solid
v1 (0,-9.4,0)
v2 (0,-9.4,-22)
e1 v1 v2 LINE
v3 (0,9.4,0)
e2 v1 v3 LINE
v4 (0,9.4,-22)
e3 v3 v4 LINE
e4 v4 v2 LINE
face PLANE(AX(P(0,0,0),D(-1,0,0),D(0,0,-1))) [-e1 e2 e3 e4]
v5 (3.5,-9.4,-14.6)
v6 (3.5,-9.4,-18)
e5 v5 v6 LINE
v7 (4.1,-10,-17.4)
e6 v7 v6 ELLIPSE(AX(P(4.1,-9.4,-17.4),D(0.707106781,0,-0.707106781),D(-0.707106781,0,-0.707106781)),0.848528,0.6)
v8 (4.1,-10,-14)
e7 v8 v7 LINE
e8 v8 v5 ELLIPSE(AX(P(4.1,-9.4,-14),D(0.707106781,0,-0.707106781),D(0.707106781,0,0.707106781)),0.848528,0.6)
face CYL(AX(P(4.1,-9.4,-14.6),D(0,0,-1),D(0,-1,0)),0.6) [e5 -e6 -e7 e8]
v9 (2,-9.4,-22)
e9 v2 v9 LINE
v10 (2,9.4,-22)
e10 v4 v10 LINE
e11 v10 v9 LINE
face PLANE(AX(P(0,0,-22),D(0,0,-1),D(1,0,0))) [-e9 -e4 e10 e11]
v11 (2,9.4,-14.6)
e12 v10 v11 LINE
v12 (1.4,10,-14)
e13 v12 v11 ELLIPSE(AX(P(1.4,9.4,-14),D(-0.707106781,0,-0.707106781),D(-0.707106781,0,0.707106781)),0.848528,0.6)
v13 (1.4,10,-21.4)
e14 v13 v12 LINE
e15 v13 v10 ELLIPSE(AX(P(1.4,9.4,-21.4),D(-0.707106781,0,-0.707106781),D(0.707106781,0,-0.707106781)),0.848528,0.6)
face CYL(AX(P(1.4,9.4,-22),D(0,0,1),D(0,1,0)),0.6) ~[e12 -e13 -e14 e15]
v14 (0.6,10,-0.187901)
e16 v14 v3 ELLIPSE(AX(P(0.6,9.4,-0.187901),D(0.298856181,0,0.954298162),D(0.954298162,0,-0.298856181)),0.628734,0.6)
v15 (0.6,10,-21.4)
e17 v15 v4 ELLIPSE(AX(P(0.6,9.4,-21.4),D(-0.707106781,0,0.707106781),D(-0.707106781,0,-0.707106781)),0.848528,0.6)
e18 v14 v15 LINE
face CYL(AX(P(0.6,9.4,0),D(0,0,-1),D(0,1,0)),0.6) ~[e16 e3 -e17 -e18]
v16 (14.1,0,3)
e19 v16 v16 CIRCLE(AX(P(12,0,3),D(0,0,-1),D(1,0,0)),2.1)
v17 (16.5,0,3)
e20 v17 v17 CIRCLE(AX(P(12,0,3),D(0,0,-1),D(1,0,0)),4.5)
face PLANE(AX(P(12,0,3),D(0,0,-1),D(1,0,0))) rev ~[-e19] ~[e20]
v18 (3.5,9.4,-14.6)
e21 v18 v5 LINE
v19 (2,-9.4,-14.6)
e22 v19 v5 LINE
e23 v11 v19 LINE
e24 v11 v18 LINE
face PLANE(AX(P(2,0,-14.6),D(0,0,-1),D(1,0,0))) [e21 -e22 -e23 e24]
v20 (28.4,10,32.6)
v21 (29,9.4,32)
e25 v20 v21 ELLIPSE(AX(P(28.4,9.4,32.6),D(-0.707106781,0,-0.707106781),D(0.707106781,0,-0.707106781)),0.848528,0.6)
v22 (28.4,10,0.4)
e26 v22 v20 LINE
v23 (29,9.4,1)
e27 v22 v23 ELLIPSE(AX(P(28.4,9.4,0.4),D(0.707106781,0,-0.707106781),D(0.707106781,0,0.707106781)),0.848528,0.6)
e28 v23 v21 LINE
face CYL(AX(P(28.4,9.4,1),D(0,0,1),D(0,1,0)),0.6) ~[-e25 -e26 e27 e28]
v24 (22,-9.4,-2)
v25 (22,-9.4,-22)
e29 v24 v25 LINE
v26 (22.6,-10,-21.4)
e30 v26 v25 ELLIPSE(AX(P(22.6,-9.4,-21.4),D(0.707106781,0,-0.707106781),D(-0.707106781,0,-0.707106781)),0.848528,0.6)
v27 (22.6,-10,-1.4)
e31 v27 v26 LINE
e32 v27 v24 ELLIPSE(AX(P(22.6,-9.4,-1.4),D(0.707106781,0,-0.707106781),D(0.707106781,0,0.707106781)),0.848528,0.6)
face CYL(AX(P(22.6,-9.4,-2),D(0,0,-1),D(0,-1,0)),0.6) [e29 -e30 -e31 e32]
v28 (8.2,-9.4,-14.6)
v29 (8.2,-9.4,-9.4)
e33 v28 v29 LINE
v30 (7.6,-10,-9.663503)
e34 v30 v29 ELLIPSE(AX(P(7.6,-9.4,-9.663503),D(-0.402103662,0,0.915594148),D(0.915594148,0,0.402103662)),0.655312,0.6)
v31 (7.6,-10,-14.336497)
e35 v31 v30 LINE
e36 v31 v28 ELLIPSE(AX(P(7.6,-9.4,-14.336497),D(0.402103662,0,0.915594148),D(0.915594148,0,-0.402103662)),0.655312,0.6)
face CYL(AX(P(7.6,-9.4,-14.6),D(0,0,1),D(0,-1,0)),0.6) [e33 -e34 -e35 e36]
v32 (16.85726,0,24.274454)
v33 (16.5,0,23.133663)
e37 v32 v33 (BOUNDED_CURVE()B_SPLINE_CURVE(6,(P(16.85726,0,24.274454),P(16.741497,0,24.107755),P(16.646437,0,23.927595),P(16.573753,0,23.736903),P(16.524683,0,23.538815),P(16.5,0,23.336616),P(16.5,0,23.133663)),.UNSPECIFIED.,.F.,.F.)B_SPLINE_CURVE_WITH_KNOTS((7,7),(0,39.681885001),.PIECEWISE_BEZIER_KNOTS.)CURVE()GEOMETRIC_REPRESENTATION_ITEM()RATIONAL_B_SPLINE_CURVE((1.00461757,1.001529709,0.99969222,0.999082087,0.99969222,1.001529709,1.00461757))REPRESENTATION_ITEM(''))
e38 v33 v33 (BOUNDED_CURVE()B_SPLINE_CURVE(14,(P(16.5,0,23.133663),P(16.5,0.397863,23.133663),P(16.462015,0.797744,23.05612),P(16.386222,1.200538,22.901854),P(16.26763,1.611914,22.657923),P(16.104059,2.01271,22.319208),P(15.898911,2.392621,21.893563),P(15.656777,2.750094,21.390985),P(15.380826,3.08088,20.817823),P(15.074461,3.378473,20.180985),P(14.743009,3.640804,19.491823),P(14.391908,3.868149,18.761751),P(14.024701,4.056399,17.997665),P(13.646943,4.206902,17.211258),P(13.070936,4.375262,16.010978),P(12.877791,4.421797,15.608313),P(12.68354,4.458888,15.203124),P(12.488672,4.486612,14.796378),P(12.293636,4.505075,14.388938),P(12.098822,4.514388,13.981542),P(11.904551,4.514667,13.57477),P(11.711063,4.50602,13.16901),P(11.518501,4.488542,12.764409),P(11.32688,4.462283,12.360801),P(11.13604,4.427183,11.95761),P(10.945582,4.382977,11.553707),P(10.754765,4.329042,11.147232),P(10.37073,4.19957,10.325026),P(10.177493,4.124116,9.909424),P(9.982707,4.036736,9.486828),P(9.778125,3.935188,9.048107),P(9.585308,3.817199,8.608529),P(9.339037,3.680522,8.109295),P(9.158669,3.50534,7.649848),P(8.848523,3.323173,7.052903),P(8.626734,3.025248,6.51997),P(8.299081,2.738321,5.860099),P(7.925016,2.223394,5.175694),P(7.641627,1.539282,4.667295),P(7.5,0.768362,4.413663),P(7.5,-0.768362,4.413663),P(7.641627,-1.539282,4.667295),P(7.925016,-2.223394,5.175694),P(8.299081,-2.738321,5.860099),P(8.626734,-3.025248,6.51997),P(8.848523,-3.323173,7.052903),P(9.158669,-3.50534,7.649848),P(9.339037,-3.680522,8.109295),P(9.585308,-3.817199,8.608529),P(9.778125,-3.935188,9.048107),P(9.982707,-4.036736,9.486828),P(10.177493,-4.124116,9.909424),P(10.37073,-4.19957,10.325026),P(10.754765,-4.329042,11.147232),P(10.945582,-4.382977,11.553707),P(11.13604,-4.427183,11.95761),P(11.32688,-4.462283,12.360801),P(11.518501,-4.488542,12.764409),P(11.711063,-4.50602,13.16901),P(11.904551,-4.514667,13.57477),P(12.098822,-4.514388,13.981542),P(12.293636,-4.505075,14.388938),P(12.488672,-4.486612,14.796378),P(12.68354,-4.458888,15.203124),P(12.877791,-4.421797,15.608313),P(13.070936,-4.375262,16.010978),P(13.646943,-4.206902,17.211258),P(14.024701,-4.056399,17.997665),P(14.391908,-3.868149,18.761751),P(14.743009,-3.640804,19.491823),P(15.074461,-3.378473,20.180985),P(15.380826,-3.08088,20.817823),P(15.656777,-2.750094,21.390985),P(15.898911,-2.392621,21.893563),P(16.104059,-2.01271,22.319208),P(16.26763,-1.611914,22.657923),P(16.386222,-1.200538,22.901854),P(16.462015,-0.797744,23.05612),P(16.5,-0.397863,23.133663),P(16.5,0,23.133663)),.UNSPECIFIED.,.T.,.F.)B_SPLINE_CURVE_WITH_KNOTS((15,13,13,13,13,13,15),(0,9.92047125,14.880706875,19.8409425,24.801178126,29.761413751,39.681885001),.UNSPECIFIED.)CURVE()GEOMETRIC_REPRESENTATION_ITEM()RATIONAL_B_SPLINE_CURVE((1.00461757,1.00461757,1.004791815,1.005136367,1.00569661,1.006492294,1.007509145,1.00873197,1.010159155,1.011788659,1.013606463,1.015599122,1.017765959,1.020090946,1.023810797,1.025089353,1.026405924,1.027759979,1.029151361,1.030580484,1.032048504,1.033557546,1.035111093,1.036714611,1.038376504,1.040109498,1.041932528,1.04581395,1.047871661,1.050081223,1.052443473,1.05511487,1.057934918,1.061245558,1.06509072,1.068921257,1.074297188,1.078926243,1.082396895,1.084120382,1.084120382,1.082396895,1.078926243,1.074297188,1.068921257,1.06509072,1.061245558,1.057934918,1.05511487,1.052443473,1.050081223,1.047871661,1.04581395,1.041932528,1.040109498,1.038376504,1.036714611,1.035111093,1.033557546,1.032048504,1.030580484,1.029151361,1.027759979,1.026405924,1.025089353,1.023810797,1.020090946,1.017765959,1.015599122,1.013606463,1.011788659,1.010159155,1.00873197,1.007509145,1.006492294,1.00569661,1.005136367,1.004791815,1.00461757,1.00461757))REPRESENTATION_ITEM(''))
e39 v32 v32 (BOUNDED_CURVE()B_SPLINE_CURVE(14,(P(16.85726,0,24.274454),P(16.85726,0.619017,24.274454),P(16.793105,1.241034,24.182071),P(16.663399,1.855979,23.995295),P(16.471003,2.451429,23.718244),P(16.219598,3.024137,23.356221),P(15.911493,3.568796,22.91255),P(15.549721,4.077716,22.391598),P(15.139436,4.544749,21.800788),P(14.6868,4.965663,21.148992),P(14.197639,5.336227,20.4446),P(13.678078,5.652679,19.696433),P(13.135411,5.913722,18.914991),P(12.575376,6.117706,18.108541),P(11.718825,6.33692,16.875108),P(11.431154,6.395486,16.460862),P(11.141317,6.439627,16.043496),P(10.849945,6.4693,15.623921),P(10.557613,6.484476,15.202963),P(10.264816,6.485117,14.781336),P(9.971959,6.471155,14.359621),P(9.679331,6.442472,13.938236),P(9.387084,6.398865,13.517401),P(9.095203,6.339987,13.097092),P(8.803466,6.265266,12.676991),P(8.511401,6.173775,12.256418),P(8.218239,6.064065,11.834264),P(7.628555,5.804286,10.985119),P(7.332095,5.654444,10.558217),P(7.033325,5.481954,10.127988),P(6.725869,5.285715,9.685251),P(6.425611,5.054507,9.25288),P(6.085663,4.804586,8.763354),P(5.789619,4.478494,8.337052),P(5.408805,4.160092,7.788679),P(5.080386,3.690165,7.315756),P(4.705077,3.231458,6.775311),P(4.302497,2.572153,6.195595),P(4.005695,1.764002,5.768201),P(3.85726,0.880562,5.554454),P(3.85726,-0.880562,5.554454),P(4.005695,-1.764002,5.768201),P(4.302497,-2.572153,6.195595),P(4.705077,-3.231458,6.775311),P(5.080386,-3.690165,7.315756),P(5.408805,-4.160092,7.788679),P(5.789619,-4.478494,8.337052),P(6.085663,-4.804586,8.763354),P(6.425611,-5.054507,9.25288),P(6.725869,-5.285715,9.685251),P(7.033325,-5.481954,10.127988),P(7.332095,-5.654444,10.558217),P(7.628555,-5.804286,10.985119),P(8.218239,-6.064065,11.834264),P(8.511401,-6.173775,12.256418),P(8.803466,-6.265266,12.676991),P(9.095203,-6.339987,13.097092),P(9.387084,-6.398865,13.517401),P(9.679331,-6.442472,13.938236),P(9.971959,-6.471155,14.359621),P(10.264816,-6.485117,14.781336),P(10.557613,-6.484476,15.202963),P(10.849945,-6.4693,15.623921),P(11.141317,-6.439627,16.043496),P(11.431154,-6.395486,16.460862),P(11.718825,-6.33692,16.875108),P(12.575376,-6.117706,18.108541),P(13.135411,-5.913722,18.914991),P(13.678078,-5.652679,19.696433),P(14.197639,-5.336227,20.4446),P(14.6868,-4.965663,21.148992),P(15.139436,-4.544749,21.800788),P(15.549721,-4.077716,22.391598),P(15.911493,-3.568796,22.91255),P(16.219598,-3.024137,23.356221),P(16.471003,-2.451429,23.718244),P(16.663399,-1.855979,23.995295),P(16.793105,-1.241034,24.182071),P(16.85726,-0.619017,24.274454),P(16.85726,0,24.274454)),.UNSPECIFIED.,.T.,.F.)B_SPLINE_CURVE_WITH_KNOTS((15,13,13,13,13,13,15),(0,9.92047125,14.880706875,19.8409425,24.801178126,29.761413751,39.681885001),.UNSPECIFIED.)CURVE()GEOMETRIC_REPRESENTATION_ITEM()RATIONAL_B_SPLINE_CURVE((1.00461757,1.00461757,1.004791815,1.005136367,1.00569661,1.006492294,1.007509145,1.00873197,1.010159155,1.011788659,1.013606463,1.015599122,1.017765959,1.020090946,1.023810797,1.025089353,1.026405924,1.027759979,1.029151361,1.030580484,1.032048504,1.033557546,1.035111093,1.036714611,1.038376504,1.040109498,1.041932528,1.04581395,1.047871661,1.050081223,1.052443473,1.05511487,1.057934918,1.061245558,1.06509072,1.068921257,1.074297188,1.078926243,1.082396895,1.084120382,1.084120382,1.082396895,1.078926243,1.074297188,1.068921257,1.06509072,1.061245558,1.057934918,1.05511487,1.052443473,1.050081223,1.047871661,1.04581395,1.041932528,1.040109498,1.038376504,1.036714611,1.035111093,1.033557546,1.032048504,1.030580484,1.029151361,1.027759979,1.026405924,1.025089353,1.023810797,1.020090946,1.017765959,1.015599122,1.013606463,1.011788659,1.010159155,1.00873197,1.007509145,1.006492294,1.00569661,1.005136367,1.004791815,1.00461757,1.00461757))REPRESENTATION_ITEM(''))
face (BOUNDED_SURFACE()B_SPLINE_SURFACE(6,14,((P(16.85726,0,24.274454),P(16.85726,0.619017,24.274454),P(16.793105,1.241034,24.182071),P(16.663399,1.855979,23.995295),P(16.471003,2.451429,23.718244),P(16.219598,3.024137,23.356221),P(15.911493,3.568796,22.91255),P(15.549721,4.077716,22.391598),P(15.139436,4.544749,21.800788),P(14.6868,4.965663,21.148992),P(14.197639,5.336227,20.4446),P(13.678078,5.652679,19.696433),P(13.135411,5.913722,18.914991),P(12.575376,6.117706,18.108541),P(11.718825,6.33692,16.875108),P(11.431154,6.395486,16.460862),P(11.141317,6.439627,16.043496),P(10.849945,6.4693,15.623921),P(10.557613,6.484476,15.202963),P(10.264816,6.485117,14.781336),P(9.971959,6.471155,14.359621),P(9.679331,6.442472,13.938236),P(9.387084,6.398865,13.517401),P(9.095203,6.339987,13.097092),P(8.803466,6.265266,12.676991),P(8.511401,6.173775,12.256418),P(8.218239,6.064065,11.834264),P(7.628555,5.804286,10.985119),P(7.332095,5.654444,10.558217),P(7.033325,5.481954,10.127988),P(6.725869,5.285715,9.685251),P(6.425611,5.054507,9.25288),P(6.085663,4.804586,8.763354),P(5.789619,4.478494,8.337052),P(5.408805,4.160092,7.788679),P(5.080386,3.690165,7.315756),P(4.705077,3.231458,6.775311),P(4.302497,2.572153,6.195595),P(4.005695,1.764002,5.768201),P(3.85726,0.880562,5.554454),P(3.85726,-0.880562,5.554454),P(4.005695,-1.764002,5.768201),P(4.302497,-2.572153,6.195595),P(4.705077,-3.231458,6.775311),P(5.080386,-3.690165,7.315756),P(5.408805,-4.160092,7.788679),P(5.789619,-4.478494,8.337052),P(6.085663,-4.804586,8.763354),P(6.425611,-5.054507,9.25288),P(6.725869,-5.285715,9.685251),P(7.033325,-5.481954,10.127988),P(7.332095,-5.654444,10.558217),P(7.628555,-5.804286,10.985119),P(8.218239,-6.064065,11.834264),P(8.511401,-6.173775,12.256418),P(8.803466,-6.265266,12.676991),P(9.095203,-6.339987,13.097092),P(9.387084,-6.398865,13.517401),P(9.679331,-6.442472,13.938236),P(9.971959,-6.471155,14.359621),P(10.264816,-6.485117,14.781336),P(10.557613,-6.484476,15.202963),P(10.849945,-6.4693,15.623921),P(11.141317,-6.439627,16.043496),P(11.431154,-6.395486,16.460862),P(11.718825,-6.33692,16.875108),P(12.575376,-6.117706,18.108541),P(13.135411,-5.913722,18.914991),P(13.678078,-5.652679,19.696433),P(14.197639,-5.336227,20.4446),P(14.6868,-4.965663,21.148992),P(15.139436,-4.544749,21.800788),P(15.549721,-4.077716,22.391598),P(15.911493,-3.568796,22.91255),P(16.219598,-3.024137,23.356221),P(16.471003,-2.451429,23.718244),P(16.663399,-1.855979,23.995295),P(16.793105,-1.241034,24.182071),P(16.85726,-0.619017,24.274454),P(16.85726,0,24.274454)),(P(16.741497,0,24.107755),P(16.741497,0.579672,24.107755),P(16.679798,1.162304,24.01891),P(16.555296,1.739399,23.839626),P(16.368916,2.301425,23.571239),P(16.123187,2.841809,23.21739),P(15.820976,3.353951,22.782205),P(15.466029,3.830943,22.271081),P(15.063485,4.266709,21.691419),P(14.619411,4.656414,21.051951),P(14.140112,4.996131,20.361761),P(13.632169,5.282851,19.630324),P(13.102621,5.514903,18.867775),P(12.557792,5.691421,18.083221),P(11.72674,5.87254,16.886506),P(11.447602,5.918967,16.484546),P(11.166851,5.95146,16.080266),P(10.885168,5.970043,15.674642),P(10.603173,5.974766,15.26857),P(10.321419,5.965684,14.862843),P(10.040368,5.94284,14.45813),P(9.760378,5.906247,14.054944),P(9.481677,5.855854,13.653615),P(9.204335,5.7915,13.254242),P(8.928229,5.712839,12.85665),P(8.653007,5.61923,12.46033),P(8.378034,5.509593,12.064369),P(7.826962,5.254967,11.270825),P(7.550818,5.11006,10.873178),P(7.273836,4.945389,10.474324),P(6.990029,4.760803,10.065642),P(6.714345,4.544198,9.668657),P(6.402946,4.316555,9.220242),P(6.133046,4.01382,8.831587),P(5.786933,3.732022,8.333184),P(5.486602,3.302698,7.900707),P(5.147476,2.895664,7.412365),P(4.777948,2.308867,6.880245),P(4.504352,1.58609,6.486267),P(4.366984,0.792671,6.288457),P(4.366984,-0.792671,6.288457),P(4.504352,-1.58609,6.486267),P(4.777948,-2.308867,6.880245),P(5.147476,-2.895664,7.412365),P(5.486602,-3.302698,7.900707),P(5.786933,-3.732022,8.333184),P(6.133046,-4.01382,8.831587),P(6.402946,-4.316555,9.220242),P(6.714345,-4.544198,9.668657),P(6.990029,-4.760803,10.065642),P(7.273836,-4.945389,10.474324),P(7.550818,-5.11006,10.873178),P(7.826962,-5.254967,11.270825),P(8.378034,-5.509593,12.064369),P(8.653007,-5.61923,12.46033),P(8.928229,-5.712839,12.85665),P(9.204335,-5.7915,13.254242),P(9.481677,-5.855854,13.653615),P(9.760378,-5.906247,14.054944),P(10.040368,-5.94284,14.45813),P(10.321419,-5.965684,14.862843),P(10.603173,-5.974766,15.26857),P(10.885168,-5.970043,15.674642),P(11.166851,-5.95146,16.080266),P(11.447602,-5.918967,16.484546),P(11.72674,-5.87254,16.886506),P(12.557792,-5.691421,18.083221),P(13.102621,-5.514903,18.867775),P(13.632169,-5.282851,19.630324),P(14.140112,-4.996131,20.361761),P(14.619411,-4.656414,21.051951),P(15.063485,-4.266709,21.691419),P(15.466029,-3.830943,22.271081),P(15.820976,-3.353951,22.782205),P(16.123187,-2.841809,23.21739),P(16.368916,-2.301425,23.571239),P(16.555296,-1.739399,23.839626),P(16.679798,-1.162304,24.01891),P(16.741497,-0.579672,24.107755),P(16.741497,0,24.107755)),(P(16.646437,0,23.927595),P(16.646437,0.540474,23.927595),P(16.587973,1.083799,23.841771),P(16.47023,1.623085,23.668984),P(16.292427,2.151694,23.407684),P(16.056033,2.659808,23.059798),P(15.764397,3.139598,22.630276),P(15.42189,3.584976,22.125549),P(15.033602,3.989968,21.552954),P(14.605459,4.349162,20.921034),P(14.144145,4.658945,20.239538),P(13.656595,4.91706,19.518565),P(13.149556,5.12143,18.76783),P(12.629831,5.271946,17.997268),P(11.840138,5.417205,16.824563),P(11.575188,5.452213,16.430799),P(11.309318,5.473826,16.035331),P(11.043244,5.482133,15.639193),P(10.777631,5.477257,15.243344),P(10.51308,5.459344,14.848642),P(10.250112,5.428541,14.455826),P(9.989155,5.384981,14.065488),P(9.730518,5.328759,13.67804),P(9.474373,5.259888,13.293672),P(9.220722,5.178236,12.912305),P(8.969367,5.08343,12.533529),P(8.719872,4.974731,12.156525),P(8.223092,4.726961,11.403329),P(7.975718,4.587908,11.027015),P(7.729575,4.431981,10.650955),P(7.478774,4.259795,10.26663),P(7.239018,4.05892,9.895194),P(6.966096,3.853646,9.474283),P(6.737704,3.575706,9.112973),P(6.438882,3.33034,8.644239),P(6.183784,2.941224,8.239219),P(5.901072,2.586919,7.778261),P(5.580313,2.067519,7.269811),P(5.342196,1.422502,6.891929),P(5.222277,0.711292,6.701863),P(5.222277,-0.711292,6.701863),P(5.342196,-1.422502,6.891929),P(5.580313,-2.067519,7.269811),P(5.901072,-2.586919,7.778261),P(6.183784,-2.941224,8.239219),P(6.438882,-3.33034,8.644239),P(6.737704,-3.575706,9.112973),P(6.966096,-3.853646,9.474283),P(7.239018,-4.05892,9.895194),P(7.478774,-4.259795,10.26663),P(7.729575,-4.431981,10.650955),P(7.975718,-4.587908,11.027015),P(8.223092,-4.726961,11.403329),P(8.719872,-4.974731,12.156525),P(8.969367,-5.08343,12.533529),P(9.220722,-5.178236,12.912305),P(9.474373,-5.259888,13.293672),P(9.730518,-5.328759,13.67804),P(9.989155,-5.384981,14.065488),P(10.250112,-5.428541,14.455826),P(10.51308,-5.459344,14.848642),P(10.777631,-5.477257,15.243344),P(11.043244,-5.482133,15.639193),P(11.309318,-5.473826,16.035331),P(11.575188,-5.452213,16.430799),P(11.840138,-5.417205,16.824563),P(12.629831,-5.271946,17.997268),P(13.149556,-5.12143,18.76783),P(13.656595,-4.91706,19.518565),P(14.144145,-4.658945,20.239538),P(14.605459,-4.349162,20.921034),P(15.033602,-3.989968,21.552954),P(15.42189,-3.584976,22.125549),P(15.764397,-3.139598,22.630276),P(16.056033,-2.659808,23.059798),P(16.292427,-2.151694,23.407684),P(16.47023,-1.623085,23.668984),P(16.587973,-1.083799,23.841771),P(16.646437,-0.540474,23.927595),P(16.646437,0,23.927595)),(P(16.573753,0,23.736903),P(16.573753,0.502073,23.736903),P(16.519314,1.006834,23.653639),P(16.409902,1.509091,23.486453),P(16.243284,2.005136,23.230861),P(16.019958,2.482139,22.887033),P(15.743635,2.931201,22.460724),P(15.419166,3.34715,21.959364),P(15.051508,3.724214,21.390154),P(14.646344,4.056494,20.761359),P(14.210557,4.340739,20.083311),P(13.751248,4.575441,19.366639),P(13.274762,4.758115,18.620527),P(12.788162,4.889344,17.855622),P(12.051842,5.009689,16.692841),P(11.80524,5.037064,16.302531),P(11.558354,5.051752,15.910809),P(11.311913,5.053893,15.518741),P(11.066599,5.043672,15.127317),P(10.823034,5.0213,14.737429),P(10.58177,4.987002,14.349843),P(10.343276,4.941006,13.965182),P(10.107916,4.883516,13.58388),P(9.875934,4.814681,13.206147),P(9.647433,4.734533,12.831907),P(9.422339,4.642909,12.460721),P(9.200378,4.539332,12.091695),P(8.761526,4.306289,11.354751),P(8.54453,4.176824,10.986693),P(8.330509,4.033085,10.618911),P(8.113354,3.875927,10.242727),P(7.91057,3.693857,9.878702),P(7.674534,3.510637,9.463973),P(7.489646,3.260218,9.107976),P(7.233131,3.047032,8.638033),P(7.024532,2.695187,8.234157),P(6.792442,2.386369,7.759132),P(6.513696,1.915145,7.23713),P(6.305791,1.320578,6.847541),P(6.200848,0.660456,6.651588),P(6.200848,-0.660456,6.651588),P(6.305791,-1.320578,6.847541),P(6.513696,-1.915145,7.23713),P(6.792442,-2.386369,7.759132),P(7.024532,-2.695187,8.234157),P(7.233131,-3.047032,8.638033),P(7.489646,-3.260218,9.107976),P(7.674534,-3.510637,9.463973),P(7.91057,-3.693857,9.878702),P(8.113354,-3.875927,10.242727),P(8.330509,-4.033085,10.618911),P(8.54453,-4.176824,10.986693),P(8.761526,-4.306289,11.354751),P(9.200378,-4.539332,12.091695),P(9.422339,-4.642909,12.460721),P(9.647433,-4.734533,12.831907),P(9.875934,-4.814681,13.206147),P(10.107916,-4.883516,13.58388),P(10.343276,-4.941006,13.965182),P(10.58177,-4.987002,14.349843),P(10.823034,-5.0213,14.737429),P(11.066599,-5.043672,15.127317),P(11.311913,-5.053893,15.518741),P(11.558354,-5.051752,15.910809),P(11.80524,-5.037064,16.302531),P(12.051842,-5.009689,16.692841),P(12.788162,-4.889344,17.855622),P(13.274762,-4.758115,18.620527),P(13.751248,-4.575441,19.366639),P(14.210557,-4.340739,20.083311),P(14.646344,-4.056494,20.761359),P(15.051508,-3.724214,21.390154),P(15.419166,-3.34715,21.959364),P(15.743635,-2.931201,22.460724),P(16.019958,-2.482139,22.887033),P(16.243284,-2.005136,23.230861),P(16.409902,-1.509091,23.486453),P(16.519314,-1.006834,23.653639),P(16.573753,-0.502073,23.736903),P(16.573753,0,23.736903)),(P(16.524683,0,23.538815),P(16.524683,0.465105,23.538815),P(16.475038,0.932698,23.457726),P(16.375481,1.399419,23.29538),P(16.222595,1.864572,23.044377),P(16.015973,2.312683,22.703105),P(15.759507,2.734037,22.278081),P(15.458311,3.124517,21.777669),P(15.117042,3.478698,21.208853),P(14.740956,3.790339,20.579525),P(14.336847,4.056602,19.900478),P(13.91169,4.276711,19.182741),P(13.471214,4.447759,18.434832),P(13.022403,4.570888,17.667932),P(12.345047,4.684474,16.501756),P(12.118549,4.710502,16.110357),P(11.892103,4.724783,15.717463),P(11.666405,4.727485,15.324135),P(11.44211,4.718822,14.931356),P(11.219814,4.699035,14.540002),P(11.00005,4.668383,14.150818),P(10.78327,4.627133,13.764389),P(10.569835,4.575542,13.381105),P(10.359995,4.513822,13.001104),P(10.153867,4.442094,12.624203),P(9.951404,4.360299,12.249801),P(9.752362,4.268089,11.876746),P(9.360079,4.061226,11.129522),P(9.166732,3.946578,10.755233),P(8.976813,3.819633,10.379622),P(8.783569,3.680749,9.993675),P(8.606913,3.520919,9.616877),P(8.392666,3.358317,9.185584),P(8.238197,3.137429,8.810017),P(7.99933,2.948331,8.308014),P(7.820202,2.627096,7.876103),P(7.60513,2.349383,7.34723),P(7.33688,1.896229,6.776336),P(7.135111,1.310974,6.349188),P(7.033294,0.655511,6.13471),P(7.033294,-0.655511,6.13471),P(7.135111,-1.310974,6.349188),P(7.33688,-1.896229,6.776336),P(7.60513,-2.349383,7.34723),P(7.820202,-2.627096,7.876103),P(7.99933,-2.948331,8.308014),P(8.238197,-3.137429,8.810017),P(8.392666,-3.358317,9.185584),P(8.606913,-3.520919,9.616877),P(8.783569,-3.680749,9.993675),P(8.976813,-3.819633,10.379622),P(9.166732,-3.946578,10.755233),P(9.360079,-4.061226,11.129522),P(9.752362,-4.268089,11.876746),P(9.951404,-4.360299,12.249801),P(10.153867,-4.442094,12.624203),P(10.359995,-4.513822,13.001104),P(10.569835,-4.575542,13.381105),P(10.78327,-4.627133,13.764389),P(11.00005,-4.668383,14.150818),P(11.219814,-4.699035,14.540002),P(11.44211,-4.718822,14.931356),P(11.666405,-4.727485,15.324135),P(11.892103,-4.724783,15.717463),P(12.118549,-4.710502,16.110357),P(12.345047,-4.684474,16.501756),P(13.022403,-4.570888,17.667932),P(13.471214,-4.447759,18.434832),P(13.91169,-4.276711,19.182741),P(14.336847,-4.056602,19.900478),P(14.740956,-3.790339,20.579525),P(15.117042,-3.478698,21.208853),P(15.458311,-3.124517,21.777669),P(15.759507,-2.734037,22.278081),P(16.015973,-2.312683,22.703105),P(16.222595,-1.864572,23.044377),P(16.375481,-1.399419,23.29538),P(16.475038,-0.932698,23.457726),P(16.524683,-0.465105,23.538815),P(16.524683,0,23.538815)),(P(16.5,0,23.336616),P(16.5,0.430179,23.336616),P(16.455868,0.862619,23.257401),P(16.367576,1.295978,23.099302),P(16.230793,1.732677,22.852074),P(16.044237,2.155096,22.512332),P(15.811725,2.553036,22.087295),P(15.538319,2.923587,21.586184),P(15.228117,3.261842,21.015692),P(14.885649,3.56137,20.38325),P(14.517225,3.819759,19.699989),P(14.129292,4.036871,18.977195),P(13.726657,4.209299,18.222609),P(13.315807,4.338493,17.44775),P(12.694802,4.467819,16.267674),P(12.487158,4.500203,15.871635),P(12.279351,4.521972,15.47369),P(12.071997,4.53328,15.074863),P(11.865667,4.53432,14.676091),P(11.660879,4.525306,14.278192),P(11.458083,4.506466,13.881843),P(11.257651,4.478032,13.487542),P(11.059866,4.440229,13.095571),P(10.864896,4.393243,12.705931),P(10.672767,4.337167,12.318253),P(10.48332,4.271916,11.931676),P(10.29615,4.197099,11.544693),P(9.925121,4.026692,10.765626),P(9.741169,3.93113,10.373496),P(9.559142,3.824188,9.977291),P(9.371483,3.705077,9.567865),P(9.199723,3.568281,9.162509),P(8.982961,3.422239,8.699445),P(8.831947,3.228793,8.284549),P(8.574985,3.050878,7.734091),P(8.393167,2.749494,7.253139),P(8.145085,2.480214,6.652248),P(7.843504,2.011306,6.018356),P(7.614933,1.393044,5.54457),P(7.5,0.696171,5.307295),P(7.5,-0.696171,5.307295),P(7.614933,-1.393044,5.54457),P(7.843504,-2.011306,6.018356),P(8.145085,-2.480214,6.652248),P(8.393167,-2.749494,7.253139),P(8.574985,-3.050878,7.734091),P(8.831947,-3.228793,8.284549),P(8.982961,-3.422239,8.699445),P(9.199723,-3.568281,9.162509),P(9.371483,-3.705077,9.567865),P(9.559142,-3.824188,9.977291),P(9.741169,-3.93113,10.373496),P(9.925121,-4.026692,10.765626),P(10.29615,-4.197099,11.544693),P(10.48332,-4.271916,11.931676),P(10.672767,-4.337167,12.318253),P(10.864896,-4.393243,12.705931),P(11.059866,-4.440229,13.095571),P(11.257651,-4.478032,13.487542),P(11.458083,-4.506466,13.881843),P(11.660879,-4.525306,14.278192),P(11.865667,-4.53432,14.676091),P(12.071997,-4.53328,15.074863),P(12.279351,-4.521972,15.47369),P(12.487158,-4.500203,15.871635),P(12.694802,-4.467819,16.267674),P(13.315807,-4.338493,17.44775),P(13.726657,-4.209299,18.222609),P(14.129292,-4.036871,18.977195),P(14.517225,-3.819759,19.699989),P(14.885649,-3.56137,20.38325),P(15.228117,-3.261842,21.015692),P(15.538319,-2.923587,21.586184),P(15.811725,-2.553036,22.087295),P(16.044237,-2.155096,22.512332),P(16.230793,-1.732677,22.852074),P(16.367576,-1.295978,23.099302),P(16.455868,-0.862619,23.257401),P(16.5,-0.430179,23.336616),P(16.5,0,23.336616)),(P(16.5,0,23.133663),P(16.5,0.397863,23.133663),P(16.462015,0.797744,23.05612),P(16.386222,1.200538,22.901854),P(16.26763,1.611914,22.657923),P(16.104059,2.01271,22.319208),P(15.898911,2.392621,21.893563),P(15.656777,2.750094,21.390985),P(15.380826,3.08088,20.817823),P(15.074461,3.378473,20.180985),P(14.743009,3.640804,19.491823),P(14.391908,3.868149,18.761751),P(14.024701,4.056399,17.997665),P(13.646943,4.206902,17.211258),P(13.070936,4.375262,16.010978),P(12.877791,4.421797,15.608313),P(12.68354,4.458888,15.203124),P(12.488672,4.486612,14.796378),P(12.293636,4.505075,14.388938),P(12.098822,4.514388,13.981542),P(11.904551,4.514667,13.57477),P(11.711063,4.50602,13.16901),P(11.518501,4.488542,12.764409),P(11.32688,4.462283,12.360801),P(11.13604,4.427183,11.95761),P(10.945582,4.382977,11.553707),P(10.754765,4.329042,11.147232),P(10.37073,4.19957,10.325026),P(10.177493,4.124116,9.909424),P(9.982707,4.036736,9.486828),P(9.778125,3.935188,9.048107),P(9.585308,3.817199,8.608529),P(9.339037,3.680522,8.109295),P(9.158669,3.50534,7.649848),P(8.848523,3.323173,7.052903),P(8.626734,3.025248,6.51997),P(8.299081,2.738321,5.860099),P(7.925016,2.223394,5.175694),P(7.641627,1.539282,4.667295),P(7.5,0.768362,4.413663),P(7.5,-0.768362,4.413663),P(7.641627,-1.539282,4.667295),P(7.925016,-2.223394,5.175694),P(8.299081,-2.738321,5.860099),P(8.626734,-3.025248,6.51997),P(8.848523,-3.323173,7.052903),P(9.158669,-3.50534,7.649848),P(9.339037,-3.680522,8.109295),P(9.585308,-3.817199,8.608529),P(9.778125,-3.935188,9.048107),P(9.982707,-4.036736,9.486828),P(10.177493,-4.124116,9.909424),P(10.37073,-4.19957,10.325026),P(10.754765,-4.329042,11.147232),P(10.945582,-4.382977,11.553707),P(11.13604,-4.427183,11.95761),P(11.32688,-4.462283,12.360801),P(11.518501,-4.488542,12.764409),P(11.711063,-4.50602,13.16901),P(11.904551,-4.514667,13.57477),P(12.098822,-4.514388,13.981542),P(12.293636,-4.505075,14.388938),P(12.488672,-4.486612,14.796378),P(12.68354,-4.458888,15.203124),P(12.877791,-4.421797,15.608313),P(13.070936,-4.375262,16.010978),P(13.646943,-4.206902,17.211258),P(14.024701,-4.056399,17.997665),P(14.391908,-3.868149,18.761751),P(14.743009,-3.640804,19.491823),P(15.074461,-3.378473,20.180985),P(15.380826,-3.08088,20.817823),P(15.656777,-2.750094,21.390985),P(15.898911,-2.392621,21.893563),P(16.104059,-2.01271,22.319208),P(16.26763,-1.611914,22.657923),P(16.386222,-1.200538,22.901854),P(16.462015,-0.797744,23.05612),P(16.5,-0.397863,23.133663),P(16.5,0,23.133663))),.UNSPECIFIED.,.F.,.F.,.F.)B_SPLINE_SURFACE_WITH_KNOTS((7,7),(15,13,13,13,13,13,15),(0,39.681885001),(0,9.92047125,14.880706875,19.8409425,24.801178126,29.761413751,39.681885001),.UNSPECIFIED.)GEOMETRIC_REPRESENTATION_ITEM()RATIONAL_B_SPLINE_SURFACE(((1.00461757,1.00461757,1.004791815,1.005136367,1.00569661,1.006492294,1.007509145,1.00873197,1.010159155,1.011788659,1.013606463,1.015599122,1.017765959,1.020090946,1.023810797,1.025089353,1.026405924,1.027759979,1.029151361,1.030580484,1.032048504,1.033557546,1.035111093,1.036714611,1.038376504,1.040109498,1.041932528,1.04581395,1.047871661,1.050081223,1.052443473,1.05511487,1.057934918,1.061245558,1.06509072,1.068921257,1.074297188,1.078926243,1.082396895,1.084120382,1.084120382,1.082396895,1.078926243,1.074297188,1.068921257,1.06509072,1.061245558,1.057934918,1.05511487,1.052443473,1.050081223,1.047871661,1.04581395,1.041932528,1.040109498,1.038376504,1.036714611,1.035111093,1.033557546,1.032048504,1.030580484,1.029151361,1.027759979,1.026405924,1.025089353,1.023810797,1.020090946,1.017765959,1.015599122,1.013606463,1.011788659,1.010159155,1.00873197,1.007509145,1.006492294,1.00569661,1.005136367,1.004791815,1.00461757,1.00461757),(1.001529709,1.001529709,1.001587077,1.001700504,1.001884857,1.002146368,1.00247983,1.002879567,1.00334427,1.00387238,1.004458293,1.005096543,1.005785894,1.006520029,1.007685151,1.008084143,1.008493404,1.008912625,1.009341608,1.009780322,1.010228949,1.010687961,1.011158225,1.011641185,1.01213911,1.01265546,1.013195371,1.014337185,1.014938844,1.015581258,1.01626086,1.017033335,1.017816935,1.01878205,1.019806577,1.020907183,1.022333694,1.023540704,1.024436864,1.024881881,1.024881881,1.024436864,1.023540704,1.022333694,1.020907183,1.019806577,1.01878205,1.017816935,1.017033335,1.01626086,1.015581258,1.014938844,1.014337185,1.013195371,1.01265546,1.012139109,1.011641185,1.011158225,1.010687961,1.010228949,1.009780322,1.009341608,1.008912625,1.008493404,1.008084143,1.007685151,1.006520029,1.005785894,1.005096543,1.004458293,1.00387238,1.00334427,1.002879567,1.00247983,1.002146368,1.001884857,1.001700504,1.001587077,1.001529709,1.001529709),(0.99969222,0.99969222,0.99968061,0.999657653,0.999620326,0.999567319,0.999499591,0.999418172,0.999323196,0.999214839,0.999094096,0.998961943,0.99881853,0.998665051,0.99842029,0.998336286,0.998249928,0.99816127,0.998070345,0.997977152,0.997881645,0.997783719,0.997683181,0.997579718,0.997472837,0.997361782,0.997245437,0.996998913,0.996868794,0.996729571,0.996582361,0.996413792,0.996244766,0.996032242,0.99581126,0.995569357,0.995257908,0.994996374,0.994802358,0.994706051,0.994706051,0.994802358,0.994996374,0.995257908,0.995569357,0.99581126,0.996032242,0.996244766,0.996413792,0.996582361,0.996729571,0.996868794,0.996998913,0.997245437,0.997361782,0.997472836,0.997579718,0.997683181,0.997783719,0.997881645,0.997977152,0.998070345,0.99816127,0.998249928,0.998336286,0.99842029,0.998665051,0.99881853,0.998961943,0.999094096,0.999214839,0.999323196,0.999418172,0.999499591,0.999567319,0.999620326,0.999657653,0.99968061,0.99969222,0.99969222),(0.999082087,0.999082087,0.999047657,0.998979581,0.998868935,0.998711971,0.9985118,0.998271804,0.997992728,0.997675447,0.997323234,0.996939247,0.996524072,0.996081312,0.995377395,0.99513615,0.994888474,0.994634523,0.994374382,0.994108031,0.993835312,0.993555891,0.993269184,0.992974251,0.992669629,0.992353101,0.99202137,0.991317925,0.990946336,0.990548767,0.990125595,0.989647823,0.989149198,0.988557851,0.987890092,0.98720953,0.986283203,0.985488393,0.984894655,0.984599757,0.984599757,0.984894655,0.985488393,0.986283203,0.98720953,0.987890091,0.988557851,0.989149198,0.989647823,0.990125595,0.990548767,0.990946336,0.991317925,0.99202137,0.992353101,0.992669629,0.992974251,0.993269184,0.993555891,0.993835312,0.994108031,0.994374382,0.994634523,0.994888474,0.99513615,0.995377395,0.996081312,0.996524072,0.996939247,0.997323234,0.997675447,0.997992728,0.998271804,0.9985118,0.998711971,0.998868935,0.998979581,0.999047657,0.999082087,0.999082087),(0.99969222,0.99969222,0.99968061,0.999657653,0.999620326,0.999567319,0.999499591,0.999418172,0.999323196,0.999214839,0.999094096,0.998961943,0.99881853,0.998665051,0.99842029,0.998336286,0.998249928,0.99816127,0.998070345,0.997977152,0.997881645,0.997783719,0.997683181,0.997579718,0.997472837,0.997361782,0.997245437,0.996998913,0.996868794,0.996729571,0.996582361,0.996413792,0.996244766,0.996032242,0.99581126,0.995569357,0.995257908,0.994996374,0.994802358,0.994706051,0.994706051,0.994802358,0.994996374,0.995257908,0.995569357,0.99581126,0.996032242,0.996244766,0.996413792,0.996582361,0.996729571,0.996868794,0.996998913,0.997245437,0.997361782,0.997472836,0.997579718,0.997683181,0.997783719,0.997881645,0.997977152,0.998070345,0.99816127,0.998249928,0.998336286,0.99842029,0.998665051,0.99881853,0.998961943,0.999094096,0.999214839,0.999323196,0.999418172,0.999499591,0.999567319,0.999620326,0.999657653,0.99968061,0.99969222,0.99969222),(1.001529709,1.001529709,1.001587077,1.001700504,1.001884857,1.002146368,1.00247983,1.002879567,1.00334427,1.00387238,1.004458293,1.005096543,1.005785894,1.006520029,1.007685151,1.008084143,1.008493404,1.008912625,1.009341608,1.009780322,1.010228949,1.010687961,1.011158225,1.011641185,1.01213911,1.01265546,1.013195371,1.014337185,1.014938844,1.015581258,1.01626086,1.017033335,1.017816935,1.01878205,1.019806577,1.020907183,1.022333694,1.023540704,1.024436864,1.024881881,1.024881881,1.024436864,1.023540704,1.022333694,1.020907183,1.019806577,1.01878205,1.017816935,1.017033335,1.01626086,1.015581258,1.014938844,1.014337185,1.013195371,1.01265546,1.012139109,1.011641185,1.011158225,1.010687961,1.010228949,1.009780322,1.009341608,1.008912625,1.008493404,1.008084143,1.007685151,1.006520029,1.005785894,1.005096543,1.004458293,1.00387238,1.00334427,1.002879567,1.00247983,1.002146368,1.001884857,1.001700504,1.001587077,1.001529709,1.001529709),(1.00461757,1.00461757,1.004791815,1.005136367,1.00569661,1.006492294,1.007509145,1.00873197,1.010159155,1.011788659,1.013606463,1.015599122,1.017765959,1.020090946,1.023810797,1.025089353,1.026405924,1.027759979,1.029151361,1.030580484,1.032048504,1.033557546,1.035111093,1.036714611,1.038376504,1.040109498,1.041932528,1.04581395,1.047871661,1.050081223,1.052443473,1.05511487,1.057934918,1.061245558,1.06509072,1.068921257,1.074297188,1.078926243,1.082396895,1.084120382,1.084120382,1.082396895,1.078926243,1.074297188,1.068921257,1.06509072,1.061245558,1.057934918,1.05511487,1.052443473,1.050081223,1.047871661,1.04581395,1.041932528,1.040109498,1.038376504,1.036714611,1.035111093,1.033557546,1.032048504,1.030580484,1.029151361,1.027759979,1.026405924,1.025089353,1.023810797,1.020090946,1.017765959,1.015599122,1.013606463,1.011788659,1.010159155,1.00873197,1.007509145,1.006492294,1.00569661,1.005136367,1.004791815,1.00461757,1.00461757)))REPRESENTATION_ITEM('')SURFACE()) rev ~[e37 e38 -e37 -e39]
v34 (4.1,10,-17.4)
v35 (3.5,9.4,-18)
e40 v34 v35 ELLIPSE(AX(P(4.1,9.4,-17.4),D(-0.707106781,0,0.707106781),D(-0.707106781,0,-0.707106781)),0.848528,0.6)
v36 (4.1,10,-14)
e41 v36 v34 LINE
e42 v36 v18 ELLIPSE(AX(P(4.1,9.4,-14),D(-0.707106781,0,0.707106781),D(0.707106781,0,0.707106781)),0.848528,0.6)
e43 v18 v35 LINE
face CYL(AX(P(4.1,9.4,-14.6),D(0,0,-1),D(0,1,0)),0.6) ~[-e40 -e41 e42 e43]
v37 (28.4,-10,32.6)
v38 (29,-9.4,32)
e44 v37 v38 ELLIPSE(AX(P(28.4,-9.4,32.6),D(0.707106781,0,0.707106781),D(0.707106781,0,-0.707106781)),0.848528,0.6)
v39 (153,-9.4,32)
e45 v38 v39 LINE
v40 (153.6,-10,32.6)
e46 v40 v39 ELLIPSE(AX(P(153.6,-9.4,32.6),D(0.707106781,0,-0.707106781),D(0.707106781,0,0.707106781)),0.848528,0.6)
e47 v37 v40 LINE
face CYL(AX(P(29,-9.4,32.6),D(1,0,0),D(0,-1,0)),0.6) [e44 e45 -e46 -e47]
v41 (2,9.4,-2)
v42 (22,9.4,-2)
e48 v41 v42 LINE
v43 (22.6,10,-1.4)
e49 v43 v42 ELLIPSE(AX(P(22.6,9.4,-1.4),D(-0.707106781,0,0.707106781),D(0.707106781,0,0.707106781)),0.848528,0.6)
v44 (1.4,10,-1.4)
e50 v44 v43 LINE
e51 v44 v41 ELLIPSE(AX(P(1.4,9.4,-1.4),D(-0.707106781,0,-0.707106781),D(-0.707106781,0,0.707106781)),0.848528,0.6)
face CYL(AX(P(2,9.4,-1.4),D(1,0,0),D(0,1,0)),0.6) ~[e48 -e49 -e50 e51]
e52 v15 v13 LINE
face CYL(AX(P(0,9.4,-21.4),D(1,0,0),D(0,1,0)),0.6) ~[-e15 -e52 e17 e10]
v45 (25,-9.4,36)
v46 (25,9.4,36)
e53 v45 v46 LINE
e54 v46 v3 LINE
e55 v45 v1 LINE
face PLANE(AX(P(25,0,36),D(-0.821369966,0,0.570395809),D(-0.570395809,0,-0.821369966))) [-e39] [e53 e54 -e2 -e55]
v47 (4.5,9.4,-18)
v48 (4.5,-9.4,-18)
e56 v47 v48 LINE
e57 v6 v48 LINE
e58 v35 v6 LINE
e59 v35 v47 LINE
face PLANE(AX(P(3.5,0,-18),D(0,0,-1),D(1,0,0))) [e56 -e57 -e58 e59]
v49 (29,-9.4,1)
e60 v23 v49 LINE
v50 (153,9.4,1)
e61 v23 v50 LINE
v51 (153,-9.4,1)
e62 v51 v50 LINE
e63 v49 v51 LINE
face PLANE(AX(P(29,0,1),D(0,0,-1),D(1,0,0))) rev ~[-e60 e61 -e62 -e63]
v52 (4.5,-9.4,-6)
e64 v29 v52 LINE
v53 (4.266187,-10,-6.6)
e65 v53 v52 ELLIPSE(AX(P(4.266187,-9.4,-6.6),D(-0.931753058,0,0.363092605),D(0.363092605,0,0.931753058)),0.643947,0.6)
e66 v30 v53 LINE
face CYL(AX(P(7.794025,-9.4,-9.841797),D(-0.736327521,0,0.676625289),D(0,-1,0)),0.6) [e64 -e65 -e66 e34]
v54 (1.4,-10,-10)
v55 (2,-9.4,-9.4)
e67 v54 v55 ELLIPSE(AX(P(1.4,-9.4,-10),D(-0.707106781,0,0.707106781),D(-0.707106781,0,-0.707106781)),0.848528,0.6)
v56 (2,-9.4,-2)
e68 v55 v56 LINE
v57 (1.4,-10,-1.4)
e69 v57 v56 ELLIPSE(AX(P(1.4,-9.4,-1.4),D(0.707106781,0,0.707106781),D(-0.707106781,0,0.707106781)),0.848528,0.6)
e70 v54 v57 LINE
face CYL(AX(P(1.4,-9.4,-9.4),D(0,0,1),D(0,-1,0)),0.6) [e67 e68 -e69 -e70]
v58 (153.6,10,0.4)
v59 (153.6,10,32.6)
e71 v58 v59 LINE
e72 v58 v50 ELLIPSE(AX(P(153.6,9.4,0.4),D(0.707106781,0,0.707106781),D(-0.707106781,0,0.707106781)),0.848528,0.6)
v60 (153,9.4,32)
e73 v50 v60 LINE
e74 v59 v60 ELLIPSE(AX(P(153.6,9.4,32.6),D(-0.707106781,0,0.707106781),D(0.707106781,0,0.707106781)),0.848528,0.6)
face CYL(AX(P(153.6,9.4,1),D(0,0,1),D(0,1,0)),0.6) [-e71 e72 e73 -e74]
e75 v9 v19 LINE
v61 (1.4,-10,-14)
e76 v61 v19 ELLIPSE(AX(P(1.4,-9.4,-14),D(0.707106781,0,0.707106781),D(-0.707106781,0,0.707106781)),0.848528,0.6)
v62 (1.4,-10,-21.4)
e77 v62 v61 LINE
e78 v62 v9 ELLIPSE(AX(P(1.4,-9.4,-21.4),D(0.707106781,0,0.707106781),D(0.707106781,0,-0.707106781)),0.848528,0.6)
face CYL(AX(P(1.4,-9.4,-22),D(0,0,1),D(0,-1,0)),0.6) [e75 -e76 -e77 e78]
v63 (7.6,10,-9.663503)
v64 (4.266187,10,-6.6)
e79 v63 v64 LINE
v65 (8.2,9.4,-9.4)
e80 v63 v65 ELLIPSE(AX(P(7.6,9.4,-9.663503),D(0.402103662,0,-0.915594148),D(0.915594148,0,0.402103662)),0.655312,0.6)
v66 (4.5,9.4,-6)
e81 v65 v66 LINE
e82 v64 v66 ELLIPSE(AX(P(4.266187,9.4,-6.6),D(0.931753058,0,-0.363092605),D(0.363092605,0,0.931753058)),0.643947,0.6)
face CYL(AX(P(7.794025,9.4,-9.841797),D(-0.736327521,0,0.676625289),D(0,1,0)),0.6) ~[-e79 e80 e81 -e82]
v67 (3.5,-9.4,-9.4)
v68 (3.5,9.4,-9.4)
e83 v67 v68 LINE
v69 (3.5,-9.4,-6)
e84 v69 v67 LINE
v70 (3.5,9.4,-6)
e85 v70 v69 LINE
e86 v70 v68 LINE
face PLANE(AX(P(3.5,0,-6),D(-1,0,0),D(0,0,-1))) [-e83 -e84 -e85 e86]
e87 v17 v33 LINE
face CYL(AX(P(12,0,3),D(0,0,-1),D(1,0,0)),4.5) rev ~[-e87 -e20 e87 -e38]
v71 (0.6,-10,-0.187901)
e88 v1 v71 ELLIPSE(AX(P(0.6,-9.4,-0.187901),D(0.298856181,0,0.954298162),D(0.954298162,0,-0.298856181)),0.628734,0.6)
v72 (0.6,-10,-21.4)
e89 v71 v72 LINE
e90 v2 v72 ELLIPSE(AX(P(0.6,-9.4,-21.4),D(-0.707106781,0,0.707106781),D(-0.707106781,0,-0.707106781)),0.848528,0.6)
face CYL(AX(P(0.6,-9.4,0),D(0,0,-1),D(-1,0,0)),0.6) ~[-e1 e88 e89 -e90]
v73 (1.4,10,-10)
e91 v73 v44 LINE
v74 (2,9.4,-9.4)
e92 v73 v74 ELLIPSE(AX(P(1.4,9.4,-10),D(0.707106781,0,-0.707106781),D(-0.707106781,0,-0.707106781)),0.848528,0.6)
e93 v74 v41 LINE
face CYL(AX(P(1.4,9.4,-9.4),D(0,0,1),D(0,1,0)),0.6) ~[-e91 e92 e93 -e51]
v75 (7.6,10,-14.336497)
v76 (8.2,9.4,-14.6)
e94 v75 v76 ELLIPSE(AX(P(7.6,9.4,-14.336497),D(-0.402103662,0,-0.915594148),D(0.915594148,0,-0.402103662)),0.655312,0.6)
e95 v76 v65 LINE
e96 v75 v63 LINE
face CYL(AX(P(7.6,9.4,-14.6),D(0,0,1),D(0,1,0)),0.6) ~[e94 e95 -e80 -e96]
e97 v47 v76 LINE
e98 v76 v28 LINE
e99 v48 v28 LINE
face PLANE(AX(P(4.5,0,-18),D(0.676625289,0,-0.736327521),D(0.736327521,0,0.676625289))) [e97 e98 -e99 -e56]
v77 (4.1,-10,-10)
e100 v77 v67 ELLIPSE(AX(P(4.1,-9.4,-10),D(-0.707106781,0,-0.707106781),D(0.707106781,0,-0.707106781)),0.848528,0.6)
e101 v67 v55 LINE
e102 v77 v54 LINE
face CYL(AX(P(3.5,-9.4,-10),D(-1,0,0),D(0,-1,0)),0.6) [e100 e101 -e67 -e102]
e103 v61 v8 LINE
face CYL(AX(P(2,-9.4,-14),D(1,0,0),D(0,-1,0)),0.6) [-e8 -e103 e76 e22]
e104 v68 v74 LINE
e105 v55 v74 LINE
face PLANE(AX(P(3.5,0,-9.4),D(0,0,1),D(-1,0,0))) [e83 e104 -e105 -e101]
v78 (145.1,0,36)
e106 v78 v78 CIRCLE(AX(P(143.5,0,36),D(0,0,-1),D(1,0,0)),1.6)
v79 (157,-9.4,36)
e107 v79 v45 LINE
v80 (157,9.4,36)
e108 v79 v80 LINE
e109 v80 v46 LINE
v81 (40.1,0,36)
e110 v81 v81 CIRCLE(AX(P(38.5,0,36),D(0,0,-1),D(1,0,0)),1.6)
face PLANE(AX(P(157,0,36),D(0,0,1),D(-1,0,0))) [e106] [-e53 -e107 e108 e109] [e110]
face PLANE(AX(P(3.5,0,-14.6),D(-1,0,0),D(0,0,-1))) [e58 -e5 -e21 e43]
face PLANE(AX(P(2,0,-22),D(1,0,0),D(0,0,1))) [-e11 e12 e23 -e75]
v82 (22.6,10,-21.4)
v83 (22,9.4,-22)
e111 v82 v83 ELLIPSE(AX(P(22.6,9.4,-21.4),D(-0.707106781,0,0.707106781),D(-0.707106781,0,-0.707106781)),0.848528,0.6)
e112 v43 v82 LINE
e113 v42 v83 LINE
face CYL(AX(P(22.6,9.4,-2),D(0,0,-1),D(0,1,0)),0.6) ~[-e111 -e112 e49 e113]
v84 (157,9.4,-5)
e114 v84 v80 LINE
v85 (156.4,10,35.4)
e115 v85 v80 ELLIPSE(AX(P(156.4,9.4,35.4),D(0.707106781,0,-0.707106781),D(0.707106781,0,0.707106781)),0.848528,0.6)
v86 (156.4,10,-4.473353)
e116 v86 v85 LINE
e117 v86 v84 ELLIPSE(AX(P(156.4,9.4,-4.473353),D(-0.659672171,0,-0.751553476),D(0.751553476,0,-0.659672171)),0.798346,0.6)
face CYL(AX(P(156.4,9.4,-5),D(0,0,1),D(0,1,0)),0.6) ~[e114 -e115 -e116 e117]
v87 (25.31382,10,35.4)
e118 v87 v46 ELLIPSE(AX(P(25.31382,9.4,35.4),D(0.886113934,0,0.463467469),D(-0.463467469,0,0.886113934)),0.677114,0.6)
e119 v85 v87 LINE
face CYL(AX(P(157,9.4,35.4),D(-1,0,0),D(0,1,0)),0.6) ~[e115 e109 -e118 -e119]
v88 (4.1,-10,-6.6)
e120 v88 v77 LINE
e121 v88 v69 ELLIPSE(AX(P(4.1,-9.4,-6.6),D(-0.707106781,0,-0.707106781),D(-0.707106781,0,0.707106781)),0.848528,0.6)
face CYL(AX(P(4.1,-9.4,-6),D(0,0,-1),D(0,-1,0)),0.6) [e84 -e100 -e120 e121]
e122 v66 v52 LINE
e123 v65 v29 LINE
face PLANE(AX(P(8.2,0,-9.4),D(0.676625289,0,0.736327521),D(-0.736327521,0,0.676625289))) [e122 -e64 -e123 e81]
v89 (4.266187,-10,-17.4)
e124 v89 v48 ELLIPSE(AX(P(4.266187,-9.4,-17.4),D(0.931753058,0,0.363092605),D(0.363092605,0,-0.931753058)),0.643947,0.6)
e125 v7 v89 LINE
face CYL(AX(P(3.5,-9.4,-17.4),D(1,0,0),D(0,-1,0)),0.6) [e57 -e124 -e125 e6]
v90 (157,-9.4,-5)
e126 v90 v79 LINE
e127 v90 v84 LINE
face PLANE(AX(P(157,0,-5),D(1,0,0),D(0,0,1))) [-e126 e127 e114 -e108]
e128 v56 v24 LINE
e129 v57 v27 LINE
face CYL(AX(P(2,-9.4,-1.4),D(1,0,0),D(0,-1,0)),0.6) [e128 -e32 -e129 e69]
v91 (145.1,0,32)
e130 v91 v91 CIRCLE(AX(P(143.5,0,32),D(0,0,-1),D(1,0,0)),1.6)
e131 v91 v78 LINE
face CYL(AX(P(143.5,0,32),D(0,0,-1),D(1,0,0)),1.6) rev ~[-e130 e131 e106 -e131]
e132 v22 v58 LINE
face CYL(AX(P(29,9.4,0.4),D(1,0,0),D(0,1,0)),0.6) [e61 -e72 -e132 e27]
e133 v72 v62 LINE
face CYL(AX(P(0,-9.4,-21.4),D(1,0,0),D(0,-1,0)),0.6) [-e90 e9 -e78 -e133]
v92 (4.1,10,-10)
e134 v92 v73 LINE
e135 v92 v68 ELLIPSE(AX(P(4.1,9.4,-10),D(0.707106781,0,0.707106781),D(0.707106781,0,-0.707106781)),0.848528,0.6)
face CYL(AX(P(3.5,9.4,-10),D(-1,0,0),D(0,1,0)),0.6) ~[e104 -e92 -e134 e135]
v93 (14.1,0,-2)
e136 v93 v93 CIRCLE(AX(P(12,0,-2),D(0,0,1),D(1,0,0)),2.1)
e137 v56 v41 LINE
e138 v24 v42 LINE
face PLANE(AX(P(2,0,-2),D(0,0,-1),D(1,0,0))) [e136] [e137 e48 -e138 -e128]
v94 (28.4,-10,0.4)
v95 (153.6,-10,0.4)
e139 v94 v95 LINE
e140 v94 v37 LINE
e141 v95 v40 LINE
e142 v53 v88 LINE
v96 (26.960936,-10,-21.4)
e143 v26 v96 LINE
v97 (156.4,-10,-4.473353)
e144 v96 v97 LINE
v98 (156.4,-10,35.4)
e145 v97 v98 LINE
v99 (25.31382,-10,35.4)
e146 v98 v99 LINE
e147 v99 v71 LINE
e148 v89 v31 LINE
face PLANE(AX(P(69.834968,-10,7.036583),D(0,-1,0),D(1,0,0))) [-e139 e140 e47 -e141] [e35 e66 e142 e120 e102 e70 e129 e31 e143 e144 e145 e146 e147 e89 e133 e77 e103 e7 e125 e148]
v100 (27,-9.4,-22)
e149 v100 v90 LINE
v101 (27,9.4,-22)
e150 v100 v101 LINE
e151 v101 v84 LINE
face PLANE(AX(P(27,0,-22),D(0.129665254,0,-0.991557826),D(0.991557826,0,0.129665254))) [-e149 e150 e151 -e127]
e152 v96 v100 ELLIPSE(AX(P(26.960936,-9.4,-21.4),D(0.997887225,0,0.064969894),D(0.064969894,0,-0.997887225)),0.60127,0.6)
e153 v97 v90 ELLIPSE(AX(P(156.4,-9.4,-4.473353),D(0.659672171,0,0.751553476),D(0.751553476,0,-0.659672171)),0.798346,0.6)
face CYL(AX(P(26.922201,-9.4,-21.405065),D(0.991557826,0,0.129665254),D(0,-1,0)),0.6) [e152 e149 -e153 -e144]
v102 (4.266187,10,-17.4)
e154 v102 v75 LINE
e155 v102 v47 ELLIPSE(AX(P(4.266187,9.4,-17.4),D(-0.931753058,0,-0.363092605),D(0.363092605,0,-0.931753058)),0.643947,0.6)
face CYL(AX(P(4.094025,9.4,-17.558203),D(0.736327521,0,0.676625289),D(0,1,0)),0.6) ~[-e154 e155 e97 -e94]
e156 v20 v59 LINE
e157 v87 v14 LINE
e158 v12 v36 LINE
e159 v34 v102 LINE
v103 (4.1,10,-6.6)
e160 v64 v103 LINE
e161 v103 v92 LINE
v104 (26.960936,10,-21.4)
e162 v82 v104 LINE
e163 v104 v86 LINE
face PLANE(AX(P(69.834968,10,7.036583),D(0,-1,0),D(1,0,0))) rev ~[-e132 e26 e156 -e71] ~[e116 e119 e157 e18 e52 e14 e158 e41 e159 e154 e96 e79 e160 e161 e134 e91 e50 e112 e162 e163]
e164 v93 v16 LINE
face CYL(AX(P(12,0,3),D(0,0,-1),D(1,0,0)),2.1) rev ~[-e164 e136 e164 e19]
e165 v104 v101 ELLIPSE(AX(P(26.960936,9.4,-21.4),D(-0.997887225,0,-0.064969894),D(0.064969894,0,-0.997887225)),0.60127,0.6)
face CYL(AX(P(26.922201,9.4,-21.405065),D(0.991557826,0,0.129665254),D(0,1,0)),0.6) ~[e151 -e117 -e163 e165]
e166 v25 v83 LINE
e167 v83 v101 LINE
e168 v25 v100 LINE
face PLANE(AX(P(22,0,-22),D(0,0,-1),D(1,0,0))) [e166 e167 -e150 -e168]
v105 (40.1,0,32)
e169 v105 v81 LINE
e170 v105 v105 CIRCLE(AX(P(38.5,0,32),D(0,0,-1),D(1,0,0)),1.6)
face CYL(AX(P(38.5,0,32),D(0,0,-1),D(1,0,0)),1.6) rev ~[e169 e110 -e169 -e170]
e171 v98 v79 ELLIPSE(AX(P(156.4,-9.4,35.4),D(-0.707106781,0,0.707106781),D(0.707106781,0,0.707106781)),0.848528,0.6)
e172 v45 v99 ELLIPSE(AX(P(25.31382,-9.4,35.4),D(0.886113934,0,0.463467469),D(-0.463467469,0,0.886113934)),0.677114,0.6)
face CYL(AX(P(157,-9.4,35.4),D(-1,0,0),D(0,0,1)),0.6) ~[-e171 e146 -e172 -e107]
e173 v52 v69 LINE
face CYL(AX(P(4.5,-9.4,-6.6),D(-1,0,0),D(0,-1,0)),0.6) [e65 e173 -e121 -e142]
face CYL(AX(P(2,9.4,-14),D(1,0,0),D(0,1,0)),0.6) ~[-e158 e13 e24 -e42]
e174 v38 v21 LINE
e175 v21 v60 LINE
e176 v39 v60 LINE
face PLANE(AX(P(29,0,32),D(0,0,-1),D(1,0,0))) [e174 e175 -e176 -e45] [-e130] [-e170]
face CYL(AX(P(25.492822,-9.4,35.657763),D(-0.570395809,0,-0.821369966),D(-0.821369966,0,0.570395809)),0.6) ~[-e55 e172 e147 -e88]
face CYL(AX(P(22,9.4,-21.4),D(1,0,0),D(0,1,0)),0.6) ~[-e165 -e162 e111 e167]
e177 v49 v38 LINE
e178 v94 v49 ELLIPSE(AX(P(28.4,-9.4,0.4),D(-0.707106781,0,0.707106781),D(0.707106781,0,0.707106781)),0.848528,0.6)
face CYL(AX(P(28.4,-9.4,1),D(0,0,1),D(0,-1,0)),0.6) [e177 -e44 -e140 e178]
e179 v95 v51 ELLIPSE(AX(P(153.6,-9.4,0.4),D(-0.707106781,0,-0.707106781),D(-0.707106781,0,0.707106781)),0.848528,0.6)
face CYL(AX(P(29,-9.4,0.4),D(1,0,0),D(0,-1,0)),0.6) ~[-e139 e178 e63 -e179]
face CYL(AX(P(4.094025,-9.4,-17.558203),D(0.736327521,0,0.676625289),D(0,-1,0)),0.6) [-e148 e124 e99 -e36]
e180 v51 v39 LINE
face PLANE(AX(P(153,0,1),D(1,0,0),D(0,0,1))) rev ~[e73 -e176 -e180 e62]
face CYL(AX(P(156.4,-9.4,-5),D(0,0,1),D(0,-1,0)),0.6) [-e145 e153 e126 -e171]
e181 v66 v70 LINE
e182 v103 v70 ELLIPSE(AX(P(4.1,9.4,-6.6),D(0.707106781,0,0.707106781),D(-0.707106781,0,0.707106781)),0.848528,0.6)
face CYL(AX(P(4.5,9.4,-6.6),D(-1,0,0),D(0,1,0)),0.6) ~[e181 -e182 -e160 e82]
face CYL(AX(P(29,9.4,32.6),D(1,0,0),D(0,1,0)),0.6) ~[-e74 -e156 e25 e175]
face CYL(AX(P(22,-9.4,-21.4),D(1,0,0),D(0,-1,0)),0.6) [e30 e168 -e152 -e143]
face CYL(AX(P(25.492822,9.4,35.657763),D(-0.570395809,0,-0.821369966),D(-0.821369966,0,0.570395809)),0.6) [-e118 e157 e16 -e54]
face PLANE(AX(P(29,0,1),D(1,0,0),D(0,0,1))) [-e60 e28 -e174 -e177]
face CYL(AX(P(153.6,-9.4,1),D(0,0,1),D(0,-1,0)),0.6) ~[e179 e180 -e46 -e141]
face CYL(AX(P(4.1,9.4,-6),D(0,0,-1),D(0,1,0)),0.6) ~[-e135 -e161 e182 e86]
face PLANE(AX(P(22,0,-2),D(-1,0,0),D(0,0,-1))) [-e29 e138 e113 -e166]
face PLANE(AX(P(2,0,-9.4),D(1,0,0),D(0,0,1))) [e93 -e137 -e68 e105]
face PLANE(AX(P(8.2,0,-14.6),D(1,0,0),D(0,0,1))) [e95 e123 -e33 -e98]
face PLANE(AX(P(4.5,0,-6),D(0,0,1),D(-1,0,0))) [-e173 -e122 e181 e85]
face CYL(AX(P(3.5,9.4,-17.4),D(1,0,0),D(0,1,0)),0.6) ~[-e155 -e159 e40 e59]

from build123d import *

# Parameters (mm, degrees)
SKETCH_W          = 124
SKETCH_H          = 31
PAD_DEPTH         = 10
SKETCH001_R       = 2.1
POCKET_DEPTH      = 33.001
POCKET_DEPTH_BACK = 25.001
SKETCH002_R       = 4.5
POCKET001_DEPTH   = 33.001
FILLET_R          = 2
SKETCH003_R       = 1.6
POCKET002_DEPTH   = 4.001
FILLET001_R       = 0.6


with BuildPart() as part:
    # Sketch → Pad (new body, symmetric)
    with BuildSketch(Plane.XZ):
        Polygon((0, 0), (0, -22), (2, -22), (2, -14.6), (3.5, -14.6), (3.5, -18), (4.5, -18), (8.2, -14.6), (8.2, -9.4), (4.5, -6), (3.5, -6), (3.5, -9.4), (2, -9.4), (2, -2), (22, -2), (22, -22), (27, -22), (157, -5), (157, 0), (157, 36), (25, 36), align=None)
        with Locations((91, 16.5)):
            Rectangle(SKETCH_W, SKETCH_H, mode=Mode.SUBTRACT)
    extrude(amount=PAD_DEPTH, both=True)

    # Sketch001 (on Face14 of Pad) → Pocket (cut, two sides)
    with BuildSketch(Plane(origin=(0, 0, 3), x_dir=(1, 0, 0), z_dir=(0, 0, -1))) as pocket_sk:
        with Locations((12, 0)):
            Circle(SKETCH001_R)
    extrude(amount=-POCKET_DEPTH, mode=Mode.SUBTRACT)
    extrude(pocket_sk.sketch, amount=POCKET_DEPTH_BACK, mode=Mode.SUBTRACT)

    # Sketch002 (on Face14 of Pad) → Pocket001 (cut, through all)
    with BuildSketch(Plane(origin=(0, 0, 3), x_dir=(1, 0, 0), z_dir=(0, 0, -1))):
        with Locations((12, 0)):
            Circle(SKETCH002_R)
    extrude(amount=-POCKET001_DEPTH, mode=Mode.SUBTRACT)

    # Fillet
    fillet_edges = [part.edges().sort_by_distance(p)[0] for p in [
        (7.500022, -0.014101, 10.800032),
    ]]
    fillet(fillet_edges, radius=FILLET_R)

    # Sketch003 (on Face25 of Fillet) → Pocket002 (cut, through all)
    with BuildSketch(Plane(origin=(0, 0, 32), x_dir=(1, 0, 0), z_dir=(0, 0, -1))):
        with Locations((38.5, 0)):
            Circle(SKETCH003_R)
        with Locations((143.5, 0)):
            Circle(SKETCH003_R)
    extrude(amount=-POCKET002_DEPTH, mode=Mode.SUBTRACT)

    # Fillet001
    fillet001_edges = [part.edges().sort_by_distance(p)[0] for p in [
        (0, -10, -11),
        (1, -10, -22),
        (2, -10, -18.3),
        (2.75, -10, -14.6),
        (3.5, -10, -16.3),
        (4, -10, -18),
        (6.35, -10, -16.3),
        (8.2, -10, -12),
        (6.35, -10, -7.7),
        (4, -10, -6),
        (3.5, -10, -7.7),
        (2.75, -10, -9.4),
        (2, -10, -5.7),
        (12, -10, -2),
        (22, -10, -12),
        (24.5, -10, -22),
        (92, -10, -13.5),
        (157, -10, 15.5),
        (91, -10, 36),
        (12.5, -10, 18),
        (91, -10, 32),
        (153, -10, 16.5),
        (91, -10, 1),
        (29, -10, 16.5),
        (0, 10, -11),
        (1, 10, -22),
        (2, 10, -18.3),
        (2.75, 10, -14.6),
        (3.5, 10, -16.3),
        (4, 10, -18),
        (6.35, 10, -16.3),
        (8.2, 10, -12),
        (6.35, 10, -7.7),
        (4, 10, -6),
        (3.5, 10, -7.7),
        (2.75, 10, -9.4),
        (2, 10, -5.7),
        (12, 10, -2),
        (22, 10, -12),
        (24.5, 10, -22),
        (92, 10, -13.5),
        (157, 10, 15.5),
        (91, 10, 36),
        (12.5, 10, 18),
        (91, 10, 32),
        (153, 10, 16.5),
        (91, 10, 1),
        (29, 10, 16.5),
    ]]
    fillet(fillet001_edges, radius=FILLET001_R)


solid = part.part
